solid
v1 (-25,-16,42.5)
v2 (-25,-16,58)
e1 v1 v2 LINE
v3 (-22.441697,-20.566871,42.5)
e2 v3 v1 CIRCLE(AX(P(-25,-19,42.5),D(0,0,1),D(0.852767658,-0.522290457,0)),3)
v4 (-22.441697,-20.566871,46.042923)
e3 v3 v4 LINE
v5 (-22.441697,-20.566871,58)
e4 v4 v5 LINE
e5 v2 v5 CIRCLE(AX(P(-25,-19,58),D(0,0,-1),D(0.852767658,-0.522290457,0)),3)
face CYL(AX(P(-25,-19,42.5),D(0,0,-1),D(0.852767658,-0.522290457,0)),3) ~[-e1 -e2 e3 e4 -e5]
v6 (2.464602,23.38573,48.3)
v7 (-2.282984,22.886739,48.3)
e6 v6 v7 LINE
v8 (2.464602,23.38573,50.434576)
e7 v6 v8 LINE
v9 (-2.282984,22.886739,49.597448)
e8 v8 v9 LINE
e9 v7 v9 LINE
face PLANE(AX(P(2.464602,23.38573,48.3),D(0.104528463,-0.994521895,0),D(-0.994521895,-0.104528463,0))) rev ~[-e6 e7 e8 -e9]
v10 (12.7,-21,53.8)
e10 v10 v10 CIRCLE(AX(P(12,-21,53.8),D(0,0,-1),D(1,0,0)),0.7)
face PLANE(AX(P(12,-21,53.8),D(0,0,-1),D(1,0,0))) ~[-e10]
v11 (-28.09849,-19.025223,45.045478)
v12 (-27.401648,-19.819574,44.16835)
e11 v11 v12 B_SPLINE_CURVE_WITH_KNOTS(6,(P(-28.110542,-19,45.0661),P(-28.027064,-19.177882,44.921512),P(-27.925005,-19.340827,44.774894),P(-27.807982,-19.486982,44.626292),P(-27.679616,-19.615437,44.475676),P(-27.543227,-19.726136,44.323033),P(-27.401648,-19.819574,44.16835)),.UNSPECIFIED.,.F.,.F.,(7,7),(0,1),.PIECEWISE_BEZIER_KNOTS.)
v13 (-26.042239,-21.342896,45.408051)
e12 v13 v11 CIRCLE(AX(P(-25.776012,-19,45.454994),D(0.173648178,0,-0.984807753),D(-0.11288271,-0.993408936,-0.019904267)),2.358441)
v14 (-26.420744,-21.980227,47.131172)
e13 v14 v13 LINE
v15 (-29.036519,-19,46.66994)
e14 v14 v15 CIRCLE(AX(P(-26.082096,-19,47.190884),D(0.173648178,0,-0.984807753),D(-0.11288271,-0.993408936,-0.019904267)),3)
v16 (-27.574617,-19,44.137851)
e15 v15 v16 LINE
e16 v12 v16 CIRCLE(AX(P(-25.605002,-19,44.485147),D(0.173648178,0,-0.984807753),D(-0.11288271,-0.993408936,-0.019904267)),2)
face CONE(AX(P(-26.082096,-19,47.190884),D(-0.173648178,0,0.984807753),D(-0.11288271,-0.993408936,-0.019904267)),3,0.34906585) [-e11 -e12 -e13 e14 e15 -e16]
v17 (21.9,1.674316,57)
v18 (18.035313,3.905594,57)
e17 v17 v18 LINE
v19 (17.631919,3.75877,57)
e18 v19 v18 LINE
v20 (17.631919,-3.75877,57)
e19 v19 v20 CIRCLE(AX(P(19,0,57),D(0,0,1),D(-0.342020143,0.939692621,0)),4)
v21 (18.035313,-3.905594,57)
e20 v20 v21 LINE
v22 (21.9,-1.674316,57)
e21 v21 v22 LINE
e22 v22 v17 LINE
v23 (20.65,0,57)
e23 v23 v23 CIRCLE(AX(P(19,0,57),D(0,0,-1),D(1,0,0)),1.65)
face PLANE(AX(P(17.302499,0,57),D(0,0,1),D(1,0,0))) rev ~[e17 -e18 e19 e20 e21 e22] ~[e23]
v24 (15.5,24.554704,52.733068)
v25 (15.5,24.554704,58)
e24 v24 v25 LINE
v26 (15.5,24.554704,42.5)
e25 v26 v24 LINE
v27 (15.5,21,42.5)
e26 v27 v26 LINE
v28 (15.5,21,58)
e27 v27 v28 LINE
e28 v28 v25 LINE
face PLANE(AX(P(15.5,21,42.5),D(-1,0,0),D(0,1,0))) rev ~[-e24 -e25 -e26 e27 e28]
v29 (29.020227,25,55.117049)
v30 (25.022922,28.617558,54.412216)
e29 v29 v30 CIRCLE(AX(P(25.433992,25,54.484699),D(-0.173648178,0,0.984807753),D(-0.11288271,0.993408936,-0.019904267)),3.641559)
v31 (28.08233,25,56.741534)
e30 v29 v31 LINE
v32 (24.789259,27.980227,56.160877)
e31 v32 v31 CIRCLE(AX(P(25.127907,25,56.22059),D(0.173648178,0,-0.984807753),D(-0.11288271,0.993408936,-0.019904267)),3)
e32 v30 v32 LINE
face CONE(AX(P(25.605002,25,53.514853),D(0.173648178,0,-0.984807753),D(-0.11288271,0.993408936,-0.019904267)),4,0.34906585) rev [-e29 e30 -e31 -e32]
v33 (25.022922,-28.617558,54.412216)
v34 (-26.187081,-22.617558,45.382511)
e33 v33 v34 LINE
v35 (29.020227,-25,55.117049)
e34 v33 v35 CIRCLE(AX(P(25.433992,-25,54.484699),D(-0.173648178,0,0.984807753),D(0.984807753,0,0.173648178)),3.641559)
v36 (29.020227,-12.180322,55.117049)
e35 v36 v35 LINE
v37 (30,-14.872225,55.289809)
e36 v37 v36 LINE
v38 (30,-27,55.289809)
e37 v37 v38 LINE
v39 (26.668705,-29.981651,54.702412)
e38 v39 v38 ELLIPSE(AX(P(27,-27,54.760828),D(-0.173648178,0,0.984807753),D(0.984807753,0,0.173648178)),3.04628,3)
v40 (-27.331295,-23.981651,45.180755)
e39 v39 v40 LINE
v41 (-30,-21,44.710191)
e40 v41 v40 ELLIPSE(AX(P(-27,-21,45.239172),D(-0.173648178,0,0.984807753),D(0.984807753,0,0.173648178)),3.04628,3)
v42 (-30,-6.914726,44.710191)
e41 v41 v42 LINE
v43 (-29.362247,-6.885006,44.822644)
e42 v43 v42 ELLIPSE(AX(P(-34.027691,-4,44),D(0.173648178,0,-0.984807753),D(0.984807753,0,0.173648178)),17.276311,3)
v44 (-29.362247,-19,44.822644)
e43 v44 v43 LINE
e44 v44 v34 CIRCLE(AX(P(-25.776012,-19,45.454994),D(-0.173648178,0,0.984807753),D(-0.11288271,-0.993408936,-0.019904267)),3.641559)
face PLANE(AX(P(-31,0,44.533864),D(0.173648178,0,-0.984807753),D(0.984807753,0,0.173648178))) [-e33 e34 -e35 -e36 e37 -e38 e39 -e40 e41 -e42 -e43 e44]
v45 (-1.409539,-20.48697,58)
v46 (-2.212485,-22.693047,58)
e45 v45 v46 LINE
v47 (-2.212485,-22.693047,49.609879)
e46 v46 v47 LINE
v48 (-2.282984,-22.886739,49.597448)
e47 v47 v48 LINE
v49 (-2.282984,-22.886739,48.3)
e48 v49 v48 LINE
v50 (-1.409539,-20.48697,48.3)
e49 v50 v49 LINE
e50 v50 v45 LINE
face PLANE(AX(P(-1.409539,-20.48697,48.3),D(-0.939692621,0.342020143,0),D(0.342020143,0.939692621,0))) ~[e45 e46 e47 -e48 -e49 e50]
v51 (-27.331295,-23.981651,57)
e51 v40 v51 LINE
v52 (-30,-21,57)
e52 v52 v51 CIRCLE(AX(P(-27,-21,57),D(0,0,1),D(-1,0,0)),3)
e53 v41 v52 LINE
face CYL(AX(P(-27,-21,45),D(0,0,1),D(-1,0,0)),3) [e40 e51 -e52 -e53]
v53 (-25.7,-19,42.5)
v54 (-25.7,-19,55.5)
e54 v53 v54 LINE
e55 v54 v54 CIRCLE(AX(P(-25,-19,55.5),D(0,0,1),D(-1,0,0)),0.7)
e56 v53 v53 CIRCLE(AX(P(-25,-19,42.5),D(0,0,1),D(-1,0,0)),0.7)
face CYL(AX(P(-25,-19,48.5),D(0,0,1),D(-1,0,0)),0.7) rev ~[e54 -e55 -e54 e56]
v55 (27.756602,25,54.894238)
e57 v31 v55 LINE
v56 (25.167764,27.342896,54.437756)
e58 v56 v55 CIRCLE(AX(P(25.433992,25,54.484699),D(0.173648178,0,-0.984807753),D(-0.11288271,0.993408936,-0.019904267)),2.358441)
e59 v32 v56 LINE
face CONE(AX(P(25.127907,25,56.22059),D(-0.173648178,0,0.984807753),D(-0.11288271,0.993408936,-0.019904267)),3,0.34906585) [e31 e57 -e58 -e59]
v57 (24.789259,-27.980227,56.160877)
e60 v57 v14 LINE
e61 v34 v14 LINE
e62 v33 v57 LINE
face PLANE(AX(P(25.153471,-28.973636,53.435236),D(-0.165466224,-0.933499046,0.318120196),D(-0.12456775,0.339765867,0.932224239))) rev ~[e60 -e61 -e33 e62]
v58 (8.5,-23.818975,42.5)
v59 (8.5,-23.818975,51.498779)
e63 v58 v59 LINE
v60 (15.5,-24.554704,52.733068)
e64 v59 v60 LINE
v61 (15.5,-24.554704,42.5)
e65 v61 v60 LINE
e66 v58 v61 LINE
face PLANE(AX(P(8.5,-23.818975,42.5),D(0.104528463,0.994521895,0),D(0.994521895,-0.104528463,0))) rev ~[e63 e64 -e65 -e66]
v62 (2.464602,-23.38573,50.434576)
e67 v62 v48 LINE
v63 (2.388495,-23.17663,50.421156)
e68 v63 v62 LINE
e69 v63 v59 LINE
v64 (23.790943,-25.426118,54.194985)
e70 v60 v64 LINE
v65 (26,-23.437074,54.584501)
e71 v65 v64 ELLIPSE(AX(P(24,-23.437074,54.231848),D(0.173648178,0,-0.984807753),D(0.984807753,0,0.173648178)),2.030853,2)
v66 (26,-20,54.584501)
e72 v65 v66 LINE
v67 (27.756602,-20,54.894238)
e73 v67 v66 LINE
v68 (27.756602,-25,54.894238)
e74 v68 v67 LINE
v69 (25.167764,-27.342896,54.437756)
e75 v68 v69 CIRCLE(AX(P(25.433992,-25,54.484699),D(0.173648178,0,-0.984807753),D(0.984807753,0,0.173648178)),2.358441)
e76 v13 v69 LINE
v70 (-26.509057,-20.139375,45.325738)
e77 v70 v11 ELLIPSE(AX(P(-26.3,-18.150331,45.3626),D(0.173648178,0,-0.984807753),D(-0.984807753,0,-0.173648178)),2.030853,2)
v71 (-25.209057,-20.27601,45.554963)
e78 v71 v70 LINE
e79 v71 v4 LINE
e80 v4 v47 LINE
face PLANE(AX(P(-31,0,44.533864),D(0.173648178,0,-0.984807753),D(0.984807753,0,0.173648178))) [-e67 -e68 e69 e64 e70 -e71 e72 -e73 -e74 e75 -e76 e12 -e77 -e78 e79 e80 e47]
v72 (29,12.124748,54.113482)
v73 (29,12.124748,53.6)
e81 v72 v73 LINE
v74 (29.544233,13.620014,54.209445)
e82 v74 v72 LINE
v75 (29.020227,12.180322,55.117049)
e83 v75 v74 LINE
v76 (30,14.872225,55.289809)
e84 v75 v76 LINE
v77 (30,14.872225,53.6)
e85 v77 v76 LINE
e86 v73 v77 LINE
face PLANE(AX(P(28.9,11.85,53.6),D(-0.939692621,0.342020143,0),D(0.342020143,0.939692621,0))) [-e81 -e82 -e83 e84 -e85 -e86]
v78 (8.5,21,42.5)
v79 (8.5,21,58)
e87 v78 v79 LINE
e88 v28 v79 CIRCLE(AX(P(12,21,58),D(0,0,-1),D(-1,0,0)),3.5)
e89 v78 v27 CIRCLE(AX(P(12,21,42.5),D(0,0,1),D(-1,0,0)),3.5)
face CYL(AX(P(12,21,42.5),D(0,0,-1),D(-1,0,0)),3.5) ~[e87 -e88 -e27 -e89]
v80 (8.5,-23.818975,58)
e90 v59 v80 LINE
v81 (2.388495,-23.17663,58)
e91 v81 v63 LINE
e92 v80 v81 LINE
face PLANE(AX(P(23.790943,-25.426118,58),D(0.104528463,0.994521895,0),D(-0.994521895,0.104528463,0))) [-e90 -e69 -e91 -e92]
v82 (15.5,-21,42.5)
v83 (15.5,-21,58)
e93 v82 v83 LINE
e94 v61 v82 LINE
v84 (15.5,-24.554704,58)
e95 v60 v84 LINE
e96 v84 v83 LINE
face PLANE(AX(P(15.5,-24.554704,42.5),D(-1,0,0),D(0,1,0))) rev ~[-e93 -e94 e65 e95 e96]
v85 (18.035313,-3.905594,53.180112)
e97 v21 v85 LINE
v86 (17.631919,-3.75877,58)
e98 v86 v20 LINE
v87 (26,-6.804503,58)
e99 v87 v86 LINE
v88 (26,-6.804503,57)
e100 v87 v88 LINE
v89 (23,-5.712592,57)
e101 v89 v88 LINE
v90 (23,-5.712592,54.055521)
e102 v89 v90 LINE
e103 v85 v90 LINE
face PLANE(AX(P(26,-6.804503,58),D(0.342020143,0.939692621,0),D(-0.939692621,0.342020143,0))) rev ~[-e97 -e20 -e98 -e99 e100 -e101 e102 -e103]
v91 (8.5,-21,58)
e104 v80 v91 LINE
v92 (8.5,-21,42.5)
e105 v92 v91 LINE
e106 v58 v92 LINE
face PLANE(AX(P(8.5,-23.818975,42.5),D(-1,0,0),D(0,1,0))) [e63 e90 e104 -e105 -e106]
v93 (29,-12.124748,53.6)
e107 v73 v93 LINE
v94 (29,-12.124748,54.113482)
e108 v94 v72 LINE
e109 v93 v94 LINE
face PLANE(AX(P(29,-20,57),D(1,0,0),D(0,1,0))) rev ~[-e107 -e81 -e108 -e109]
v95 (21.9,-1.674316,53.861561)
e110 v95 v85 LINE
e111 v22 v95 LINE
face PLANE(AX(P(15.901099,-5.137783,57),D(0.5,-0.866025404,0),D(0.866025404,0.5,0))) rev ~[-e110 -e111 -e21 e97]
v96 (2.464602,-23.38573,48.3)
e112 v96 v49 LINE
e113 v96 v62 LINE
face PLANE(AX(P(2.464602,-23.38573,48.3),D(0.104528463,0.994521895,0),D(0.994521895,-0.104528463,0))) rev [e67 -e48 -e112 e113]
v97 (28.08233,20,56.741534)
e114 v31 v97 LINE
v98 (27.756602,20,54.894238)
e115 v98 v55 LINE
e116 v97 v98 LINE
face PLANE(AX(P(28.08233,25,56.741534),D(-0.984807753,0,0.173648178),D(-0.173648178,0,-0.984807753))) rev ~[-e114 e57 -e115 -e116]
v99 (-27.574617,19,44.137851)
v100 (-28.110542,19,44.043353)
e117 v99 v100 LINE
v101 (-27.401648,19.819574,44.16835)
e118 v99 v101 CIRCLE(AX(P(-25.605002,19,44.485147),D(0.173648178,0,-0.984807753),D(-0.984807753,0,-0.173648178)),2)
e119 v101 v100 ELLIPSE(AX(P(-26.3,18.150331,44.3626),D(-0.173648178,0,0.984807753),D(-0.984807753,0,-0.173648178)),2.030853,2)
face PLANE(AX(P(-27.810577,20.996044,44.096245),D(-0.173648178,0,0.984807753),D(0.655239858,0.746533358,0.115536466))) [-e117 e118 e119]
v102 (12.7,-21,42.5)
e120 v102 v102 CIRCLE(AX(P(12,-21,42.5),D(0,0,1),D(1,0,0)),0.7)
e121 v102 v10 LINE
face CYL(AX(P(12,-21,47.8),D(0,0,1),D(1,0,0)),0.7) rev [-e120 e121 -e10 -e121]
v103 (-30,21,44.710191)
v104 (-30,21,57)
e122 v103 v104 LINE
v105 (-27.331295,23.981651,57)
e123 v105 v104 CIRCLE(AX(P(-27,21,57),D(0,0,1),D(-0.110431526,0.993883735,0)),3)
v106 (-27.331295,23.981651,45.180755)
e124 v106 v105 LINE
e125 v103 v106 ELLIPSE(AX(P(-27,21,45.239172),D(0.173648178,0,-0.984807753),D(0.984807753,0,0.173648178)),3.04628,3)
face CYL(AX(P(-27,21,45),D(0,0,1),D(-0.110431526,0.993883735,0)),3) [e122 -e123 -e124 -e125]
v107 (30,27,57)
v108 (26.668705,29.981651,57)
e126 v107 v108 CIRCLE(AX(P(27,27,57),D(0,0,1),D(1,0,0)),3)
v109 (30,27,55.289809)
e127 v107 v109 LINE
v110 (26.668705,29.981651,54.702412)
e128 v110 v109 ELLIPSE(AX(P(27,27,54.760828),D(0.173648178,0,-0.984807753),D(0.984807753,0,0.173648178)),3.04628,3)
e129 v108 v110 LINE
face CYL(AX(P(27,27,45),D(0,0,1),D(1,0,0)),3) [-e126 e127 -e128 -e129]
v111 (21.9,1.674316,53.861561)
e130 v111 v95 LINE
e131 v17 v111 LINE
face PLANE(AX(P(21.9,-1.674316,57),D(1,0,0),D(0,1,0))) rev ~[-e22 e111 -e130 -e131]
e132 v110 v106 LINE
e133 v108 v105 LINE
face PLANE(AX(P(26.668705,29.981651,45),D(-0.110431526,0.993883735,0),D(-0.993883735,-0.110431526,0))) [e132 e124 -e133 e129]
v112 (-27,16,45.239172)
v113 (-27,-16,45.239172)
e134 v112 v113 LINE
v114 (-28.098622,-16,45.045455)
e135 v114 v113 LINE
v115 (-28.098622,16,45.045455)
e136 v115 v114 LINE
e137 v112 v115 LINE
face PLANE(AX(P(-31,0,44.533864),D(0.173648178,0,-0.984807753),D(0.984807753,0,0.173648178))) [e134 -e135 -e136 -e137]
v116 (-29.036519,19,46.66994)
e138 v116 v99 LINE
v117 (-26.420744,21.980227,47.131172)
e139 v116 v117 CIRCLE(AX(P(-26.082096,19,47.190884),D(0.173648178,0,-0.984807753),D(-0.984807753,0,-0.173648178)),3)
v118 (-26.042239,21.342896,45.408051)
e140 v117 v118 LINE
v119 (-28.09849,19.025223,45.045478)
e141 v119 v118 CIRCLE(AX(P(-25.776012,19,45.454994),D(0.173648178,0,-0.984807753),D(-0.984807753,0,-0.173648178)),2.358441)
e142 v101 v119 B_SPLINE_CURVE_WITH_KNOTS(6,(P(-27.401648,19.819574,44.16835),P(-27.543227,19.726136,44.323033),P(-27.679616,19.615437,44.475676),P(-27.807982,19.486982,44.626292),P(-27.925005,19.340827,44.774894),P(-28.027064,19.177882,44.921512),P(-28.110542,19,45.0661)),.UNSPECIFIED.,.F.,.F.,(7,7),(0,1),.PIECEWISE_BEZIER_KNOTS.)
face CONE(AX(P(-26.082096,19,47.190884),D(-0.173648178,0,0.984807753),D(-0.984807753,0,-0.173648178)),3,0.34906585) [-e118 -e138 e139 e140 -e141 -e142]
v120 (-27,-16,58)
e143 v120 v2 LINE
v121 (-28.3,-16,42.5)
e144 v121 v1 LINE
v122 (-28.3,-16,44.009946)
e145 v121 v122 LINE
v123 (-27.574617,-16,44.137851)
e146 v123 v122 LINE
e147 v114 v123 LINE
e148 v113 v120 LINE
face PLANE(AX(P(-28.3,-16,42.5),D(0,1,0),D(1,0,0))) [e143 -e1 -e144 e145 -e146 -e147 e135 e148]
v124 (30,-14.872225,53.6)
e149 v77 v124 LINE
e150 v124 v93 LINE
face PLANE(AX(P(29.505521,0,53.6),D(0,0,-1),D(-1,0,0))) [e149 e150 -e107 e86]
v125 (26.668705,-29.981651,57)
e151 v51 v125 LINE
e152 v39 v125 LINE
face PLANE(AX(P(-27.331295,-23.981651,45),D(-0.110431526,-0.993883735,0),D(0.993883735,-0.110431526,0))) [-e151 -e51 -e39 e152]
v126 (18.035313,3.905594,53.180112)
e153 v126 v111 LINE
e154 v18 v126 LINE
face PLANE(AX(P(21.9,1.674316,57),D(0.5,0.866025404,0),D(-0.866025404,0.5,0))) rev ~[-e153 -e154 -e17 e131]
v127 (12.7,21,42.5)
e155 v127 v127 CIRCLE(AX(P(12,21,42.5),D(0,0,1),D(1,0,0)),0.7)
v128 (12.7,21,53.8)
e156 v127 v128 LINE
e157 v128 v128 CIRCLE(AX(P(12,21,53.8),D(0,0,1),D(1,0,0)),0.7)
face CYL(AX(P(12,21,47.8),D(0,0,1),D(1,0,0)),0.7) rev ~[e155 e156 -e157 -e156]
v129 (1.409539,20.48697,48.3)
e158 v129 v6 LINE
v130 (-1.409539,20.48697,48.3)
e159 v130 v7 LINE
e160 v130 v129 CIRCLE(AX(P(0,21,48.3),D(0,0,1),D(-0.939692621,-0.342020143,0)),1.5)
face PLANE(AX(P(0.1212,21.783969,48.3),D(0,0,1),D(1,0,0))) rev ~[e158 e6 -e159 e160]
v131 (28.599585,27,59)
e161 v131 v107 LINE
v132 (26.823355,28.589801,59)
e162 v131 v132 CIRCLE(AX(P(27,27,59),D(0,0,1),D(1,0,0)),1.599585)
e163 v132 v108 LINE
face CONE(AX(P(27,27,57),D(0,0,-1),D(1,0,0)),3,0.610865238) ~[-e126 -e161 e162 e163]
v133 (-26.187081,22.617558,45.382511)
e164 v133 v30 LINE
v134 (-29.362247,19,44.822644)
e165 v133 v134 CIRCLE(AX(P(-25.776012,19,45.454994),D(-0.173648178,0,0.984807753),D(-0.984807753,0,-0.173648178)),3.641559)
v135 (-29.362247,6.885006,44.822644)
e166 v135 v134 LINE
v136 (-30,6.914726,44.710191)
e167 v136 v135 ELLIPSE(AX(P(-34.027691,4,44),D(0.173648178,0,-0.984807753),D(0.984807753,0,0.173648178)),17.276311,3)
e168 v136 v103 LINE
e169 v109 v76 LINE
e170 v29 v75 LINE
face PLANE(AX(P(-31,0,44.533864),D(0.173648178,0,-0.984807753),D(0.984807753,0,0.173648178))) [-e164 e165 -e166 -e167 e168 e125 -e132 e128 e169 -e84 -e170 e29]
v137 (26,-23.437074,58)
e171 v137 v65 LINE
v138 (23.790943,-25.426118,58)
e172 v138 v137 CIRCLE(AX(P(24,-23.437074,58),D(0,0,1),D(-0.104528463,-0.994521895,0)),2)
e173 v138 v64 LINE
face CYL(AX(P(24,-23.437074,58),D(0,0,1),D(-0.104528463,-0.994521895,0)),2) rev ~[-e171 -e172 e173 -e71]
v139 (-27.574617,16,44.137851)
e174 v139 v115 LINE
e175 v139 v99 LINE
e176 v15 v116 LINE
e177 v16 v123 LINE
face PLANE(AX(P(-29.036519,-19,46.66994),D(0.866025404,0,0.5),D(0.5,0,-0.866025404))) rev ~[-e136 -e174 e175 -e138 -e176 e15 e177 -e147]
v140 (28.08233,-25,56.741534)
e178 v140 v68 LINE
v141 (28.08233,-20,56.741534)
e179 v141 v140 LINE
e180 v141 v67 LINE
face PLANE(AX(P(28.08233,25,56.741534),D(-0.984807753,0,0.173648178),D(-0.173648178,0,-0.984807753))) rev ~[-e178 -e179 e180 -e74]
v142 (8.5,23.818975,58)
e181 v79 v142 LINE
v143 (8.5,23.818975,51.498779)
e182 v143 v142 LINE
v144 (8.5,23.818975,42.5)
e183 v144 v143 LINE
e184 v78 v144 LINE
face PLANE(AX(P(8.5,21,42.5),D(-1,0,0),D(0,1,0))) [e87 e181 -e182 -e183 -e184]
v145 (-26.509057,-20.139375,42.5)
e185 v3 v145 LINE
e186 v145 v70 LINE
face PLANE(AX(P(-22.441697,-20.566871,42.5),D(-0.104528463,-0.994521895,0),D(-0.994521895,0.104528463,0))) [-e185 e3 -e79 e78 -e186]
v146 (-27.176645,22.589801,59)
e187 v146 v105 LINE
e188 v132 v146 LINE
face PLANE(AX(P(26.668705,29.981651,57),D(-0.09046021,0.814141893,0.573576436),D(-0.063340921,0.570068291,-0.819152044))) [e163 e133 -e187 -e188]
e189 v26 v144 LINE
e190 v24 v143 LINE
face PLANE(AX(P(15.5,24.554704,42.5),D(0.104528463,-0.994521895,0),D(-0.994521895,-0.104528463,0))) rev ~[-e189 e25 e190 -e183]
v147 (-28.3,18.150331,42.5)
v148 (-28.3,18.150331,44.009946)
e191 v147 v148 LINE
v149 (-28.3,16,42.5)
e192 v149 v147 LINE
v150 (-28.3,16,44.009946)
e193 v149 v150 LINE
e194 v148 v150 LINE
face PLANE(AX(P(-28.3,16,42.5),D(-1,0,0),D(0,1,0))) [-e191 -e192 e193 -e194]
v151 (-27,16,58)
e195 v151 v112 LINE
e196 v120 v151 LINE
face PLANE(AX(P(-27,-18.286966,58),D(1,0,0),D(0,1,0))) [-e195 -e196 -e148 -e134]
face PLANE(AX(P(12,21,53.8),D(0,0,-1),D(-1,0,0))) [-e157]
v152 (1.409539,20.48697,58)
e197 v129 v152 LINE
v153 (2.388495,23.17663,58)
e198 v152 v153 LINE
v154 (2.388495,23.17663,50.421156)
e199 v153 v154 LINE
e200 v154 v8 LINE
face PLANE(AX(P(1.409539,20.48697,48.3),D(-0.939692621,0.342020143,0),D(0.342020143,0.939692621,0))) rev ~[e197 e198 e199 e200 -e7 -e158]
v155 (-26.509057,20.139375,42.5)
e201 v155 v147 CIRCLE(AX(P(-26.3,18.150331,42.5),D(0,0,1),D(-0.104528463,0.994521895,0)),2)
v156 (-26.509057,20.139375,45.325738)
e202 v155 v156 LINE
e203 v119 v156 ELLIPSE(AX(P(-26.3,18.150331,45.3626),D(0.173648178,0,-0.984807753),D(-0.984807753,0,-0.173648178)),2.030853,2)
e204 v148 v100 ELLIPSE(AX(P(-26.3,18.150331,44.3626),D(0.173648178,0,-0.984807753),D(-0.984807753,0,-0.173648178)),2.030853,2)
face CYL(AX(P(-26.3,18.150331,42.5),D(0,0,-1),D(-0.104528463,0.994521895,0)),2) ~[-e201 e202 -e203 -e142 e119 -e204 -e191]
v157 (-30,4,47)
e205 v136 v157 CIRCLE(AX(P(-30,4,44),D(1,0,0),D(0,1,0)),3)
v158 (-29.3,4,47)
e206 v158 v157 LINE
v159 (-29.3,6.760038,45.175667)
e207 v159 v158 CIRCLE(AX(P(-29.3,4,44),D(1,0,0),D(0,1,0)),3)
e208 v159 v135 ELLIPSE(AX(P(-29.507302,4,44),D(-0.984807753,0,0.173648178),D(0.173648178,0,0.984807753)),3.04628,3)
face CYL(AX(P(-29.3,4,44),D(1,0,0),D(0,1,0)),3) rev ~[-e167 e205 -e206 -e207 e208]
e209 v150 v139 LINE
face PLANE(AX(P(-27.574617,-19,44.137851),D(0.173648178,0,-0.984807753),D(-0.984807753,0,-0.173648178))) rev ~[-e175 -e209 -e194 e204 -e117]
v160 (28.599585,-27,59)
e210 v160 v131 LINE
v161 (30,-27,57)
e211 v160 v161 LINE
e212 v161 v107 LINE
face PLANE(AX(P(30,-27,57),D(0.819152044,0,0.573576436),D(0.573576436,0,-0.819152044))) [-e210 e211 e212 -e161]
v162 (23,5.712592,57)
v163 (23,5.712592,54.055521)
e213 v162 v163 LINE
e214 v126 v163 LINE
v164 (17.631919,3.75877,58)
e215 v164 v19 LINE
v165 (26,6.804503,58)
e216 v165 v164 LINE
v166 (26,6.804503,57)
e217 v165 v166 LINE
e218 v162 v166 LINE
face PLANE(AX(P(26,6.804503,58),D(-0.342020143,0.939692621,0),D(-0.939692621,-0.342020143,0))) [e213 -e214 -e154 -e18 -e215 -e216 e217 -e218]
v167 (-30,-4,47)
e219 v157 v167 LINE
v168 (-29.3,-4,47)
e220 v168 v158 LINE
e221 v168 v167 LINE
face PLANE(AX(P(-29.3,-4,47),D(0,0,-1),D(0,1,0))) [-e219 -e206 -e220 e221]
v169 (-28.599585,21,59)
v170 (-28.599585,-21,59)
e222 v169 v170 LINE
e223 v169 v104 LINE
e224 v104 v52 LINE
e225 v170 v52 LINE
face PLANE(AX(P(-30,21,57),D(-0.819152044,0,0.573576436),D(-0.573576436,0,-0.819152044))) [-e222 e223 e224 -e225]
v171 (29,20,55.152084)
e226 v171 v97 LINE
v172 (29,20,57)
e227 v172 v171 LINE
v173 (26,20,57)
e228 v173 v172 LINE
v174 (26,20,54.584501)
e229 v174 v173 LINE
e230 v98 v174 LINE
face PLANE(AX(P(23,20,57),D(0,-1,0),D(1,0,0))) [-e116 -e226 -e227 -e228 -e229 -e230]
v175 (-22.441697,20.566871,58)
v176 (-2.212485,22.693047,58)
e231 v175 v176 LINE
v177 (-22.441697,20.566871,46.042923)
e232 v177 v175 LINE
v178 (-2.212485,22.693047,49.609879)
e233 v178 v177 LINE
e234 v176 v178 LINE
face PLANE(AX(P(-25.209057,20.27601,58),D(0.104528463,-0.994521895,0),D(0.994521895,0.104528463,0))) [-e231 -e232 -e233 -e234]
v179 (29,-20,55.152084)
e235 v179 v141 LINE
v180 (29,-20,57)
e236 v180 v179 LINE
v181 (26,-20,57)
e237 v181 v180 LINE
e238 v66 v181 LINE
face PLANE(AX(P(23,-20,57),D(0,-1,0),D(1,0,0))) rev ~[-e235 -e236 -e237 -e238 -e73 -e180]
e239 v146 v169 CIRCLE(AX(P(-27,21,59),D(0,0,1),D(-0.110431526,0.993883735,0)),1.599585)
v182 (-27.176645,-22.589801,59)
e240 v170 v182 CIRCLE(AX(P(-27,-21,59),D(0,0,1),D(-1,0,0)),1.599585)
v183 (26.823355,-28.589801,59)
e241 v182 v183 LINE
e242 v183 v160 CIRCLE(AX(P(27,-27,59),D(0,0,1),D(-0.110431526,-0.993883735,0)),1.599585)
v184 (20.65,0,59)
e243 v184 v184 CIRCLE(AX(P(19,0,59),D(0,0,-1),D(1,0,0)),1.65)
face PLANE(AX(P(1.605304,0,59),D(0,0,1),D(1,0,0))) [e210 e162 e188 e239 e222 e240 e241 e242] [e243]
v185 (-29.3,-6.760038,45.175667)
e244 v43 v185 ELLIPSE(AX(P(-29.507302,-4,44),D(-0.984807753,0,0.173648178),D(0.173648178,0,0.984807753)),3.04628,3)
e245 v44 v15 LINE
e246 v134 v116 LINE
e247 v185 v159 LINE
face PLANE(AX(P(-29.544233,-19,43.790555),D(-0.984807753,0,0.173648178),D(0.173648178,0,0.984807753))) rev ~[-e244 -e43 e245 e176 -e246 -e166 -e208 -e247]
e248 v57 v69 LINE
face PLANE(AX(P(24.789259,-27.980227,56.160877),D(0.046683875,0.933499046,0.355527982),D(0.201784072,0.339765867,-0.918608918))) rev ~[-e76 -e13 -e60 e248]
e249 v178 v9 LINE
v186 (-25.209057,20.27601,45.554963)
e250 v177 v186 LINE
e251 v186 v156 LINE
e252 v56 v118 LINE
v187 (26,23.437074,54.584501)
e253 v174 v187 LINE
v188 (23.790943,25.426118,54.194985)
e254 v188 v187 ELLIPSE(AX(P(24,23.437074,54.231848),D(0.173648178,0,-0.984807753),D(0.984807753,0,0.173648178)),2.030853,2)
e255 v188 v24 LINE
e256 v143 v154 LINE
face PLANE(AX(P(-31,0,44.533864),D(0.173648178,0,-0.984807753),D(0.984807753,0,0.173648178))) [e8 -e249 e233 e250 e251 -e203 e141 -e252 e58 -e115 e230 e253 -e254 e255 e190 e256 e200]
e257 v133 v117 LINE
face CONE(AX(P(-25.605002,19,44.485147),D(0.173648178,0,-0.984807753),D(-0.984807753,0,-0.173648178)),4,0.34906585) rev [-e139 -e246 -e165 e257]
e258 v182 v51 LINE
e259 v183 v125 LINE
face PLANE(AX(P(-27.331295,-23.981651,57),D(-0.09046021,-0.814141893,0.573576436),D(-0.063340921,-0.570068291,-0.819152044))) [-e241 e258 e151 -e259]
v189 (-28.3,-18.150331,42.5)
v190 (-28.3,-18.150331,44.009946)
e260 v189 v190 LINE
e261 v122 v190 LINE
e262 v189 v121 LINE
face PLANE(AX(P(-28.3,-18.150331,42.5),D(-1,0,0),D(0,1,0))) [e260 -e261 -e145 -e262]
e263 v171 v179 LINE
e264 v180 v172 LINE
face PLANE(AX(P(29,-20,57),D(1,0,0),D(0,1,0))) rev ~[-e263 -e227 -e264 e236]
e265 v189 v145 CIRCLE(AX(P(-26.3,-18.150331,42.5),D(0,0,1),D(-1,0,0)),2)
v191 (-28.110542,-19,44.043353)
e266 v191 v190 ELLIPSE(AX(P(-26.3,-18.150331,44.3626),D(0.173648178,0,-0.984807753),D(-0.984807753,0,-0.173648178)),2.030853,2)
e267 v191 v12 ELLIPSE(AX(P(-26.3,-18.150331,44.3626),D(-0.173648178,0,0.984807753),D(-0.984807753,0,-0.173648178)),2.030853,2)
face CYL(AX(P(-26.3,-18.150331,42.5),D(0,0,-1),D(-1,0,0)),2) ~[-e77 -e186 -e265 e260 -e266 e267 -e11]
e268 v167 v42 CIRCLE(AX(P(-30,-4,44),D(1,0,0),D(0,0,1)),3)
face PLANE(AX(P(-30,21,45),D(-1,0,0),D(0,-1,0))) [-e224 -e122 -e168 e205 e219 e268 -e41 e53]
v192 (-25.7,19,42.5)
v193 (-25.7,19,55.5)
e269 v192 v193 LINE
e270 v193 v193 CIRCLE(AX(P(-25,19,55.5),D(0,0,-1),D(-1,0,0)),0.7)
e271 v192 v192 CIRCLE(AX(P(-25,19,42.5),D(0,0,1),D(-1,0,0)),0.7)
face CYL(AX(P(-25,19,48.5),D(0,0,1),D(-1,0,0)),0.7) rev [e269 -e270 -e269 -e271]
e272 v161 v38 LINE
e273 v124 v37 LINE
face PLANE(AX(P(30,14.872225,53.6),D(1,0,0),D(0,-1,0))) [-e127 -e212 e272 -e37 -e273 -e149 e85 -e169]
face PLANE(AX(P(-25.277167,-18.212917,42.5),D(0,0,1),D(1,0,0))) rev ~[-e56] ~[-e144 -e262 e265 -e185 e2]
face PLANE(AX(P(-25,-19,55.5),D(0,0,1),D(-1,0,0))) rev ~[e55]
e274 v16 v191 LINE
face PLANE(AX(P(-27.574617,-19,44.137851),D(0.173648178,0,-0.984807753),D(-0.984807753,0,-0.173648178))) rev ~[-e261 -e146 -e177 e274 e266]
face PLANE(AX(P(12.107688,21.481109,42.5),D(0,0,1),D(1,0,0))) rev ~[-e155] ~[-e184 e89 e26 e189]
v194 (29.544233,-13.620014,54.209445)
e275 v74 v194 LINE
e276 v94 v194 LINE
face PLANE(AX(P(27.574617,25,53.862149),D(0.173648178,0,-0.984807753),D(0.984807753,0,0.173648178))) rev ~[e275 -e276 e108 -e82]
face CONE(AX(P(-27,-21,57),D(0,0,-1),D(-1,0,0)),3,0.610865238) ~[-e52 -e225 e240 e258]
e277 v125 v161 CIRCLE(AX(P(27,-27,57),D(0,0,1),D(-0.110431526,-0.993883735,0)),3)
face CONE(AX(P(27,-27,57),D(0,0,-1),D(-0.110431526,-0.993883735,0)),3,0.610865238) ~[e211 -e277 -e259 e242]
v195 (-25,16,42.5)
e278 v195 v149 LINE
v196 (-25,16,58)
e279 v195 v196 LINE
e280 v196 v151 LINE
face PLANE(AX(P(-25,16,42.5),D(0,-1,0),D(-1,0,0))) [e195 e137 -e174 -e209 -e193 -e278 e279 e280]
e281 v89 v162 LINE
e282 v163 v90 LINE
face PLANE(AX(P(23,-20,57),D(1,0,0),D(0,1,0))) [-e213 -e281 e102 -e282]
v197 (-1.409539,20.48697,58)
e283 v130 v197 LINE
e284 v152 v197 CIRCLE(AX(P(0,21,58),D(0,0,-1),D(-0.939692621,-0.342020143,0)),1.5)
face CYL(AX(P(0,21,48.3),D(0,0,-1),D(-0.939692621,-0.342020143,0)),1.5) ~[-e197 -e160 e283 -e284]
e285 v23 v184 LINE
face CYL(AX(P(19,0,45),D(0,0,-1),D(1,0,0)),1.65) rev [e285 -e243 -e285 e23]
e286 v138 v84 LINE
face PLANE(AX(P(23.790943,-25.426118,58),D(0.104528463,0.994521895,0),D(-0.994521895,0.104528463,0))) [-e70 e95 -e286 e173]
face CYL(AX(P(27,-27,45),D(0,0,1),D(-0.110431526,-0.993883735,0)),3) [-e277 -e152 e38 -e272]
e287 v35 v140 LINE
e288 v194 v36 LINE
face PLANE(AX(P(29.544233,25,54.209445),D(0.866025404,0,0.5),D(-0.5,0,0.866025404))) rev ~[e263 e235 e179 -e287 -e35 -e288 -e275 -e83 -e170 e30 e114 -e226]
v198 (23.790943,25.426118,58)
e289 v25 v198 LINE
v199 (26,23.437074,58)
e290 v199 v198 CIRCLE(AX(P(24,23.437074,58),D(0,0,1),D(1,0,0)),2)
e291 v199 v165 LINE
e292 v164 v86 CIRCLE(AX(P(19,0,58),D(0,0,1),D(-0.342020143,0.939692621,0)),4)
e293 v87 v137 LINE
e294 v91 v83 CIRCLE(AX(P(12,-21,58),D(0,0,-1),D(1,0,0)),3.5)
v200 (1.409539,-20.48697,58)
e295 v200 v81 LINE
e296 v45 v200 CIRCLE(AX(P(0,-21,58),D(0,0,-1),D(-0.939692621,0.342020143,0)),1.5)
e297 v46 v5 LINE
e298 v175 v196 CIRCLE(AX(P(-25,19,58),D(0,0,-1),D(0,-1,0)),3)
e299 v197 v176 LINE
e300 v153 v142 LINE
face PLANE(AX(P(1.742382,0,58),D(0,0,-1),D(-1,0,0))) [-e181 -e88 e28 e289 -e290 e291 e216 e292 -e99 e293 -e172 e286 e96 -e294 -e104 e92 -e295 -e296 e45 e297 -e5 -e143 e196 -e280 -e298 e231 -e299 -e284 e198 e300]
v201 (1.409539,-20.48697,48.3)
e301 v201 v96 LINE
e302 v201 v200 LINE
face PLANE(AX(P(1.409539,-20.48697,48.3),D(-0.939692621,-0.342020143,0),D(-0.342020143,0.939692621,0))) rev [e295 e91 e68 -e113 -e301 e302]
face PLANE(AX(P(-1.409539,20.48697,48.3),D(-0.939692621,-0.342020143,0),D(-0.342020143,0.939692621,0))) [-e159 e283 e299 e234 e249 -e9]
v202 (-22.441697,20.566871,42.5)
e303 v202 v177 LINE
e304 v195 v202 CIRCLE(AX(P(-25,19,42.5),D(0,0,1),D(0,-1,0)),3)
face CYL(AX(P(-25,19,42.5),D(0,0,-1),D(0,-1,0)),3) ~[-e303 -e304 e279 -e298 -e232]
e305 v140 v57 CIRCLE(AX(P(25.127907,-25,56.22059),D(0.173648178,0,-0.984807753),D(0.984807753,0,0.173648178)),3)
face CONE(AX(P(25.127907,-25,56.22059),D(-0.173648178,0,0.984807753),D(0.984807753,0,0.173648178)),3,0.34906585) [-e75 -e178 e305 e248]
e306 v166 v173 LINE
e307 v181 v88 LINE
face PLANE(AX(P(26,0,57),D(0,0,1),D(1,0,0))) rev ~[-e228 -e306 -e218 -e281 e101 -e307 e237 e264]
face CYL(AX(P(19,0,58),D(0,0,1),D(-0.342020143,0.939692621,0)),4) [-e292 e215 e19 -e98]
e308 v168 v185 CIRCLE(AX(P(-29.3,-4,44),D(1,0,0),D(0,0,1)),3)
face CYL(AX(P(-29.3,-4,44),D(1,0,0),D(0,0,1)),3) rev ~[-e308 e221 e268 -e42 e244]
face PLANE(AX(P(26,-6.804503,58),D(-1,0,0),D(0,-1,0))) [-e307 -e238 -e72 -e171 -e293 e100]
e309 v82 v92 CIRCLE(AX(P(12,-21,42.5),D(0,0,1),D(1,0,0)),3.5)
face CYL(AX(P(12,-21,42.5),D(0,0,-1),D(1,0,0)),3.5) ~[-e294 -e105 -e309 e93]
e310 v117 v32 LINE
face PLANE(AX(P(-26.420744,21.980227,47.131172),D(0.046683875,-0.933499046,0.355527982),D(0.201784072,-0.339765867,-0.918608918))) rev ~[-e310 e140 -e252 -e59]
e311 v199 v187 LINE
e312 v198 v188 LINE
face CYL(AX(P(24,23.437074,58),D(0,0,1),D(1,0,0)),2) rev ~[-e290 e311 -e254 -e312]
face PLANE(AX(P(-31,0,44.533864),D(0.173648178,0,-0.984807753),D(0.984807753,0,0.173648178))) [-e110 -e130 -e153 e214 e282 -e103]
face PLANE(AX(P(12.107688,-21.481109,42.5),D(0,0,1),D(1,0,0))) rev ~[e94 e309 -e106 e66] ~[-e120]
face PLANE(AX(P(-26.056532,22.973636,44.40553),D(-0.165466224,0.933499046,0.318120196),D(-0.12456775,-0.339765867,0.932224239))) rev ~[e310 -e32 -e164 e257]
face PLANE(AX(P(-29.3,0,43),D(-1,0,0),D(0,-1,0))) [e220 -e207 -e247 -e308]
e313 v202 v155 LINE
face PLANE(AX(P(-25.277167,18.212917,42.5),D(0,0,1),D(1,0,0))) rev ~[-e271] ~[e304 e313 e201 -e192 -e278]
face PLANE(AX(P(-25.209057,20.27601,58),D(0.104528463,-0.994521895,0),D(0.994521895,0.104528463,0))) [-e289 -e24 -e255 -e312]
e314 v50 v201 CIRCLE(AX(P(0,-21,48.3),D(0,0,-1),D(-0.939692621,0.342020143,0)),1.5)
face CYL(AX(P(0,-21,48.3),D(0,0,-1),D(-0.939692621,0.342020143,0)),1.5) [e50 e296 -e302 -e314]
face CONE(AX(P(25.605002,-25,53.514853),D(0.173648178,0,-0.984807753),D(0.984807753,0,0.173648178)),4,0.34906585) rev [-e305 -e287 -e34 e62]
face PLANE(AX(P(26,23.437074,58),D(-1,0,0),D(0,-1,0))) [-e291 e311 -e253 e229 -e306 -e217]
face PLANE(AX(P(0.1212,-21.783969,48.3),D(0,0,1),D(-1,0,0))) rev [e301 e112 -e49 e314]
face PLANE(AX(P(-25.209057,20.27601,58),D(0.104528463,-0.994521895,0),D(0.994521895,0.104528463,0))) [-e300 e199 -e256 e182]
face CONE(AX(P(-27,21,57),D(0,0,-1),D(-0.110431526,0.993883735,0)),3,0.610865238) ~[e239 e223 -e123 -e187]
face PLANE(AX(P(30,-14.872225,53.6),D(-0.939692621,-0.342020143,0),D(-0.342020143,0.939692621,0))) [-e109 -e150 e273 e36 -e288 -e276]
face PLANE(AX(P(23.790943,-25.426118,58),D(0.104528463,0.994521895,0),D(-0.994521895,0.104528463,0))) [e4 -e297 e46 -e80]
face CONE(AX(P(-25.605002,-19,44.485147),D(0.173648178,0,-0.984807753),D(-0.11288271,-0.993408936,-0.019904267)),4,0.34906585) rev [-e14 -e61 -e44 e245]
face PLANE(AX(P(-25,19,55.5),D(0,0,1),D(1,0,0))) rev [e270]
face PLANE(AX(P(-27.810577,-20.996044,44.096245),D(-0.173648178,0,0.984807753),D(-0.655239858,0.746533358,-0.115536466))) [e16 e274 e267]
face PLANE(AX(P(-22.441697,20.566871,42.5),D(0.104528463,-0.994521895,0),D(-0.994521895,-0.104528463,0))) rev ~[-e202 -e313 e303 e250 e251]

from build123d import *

# Parameters (mm, degrees)
PAD008_DEPTH         = 14
PAD008_DEPTH_BACK    = 5
POCKET006_DEPTH      = 30.001
POCKET006_DEPTH_BACK = 30.001
POCKET032_DEPTH      = 13.2908094213
PAD015_DEPTH         = 16
SKETCH026_W          = 0.7
SKETCH026_H          = 12
SKETCH027_W          = 0.7
SKETCH027_H          = 14
POCKET033_DEPTH      = 14.501
SKETCH037_R          = 1.65
POCKET034_DEPTH      = 14.001
PAD016_DEPTH         = 3
SKETCH036_W          = 6
SKETCH036_H          = 40
POCKET035_DEPTH      = 14.501
POCKET036_DEPTH      = 0.701
PAD017_DEPTH         = 10


with BuildPart() as part:
    # Sketch020 → Pad008 (new body, two sides)
    with BuildSketch(Plane.XY) as pad008_sk:
        with BuildLine():
            Line((26.6687054218, 29.981651204), (-27.3312945782, 23.981651204))
            ThreePointArc((-27.3312945782, 23.981651204), (-29.2353840537, 23.0007643871), (-30, 21))
            Line((-30, 21), (-30, -21))
            ThreePointArc((-30, -21), (-29.2353840537, -23.0007643871), (-27.3312945782, -23.981651204))
            Line((-27.3312945782, -23.981651204), (26.6687054218, -29.981651204))
            ThreePointArc((26.6687054218, -29.981651204), (29.0007643871, -29.2353840537), (30, -27))
            Line((30, -27), (30, 27))
            ThreePointArc((30, 27), (29.0007643871, 29.2353840537), (26.6687054218, 29.981651204))
        make_face()
    extrude(amount=PAD008_DEPTH)
    extrude(pad008_sk.sketch, amount=-PAD008_DEPTH_BACK)

    # Sketch021 → Pocket006 (cut, two sides)
    with BuildSketch(Plane.XZ) as pocket006_sk:
        Polygon((31, -6), (-31, -6), (-31, -0.466136402), (31, 10.466136402), align=None)
    extrude(amount=-POCKET006_DEPTH, mode=Mode.SUBTRACT)
    extrude(pocket006_sk.sketch, amount=POCKET006_DEPTH_BACK, mode=Mode.SUBTRACT)

    # Sketch040 → Pocket032 (cut, through all)
    with BuildSketch(Plane.XY.offset(13)):
        with BuildLine():
            Line((-25.2090569265, 20.276010124), (23.7909430735, 25.426117652))
            ThreePointArc((26, 23.4370738613), (25.3382612127, 24.9233635123), (23.7909430735, 25.426117652))
            Line((26, 23.4370738613), (26, 6.8045027298))
            Line((26, 6.8045027298), (17.6319194267, 3.7587704831))
            ThreePointArc((17.6319194267, 3.7587704831), (15, 0), (17.6319194267, -3.7587704831))
            Line((26, -6.8045027298), (17.6319194267, -3.7587704831))
            Line((26, -6.8045027298), (26, -23.4370738613))
            ThreePointArc((23.7909430735, -25.426117652), (25.3382612127, -24.9233635123), (26, -23.4370738613))
            Line((23.7909430735, -25.426117652), (-25.2090569265, -20.276010124))
            ThreePointArc((-27, -18.2869663333), (-26.486289651, -19.625227546), (-25.2090569265, -20.276010124))
            Line((-27, -18.2869663333), (-27, 18.2869663333))
            ThreePointArc((-25.2090569265, 20.276010124), (-26.486289651, 19.625227546), (-27, 18.2869663333))
        make_face()
    extrude(amount=-POCKET032_DEPTH, mode=Mode.SUBTRACT)

    # Sketch063 → Pad015 (join)
    with BuildSketch(Plane.XY.offset(-2.5)):
        with BuildLine():
            Line((15.5, 21), (15.5, 24.5547044207))
            Line((15.5, 24.5547044207), (8.5, 23.8189747738))
            Line((8.5, 21), (8.5, 23.8189747738))
            ThreePointArc((8.5, 21), (12, 17.5), (15.5, 21))
        make_face()
        with BuildLine():
            Line((8.5, -23.8189747738), (15.5, -24.5547044207))
            Line((15.5, -24.5547044207), (15.5, -21))
            ThreePointArc((15.5, -21), (12, -17.5), (8.5, -21))
            Line((8.5, -23.8189747738), (8.5, -21))
        make_face()
        with BuildLine():
            ThreePointArc((-25, 16), (-22.3826908751, 17.5338168788), (-22.4416970255, 20.5668713701))
            Line((-22.4416970255, 20.5668713701), (-26.5090569265, 20.1393746182))
            ThreePointArc((-26.5090569265, 20.1393746182), (-27.786289651, 19.4885920402), (-28.3, 18.1503308274))
            Line((-28.3, 16), (-28.3, 18.1503308274))
            Line((-25, 16), (-28.3, 16))
        make_face()
        with BuildLine():
            ThreePointArc((-22.4416970255, -20.5668713701), (-22.3826908751, -17.5338168788), (-25, -16))
            Line((-28.3, -16), (-25, -16))
            Line((-28.3, -18.1503308274), (-28.3, -16))
            ThreePointArc((-28.3, -18.1503308274), (-27.786289651, -19.4885920402), (-26.5090569265, -20.1393746182))
            Line((-22.4416970255, -20.5668713701), (-26.5090569265, -20.1393746182))
        make_face()
    extrude(amount=PAD015_DEPTH)

    # Sketch026 → Groove (revolve, cut)
    with BuildSketch(Plane.XZ.offset(21)):
        with Locations((12.35, 2.8)):
            Rectangle(SKETCH026_W, SKETCH026_H)
    groove = revolve(axis=Axis((12, -21, 8.8), (0, 0, -1)), mode=Mode.SUBTRACT)

    # Sketch027 → Groove004 (revolve, cut)
    with BuildSketch(Plane.XZ.offset(19)):
        with Locations((-25.35, 3.5)):
            Rectangle(SKETCH027_W, SKETCH027_H)
    groove004 = revolve(axis=Axis((-25, -19, -17.5), (0, 0, 1)), mode=Mode.SUBTRACT)

    # Mirrored013: Groove, Groove004 across XZ
    add(groove.mirror(Plane.XZ), mode=Mode.SUBTRACT)
    add(groove004.mirror(Plane.XZ), mode=Mode.SUBTRACT)

    # Sketch057 → Pocket033 (cut, through all)
    with BuildSketch(Plane.XY.offset(12)):
        with BuildLine():
            Line((21.9, -1.6743157806), (21.9, 1.6743157806))
            Line((21.9, 1.6743157806), (15.9010990338, 5.1377828683))
            ThreePointArc((15.9010990338, 5.1377828683), (13, 0), (15.9010990338, -5.1377828683))
            Line((15.9010990338, -5.1377828683), (21.9, -1.6743157806))
        make_face()
    extrude(amount=-POCKET033_DEPTH, mode=Mode.SUBTRACT)

    # Sketch037 → Pocket034 (cut, through all)
    with BuildSketch(Plane.XY):
        with Locations((19, 0)):
            Circle(SKETCH037_R)
    extrude(amount=POCKET034_DEPTH, mode=Mode.SUBTRACT)

    # Sketch039 → Pad016 (join)
    with BuildSketch(Plane.XY.offset(8.6)):
        Polygon((28.9, -11.85), (28.9, 11.85), (30, 14.8722251614), (30, -14.8722251614), align=None)
    extrude(amount=PAD016_DEPTH)

    # SubtractivePipe: sweep along a path in Sketch020
    with BuildLine(Plane.XY) as subtractivepipe_path:
        Line((26.6687054218, 29.981651204), (-27.3312945782, 23.981651204))
        ThreePointArc((-27.3312945782, 23.981651204), (-29.2353840537, 23.0007643871), (-30, 21))
        Line((-30, 21), (-30, -21))
        ThreePointArc((-30, -21), (-29.2353840537, -23.0007643871), (-27.3312945782, -23.981651204))
        Line((-27.3312945782, -23.981651204), (26.6687054218, -29.981651204))
        ThreePointArc((26.6687054218, -29.981651204), (29.0007643871, -29.2353840537), (30, -27))
        Line((30, -27), (30, 27))
        ThreePointArc((30, 27), (29.0007643871, 29.2353840537), (26.6687054218, 29.981651204))
    # Sketch035 → SubtractivePipe (sweep, cut)
    with BuildSketch(Plane.XZ):
        Polygon((28.5995849236, 14), (30, 14), (30, 12), align=None)
    sweep(path=subtractivepipe_path.line, mode=Mode.SUBTRACT)

    # Sketch036 → Pocket035 (cut, through all)
    with BuildSketch(Plane.XY.offset(12)):
        with Locations((26, 0)):
            Rectangle(SKETCH036_W, SKETCH036_H)
    extrude(amount=-POCKET035_DEPTH, mode=Mode.SUBTRACT)

    # Sketch054 → Pocket036 (cut, through all)
    with BuildSketch(Plane.YZ.offset(-29.3)):
        with BuildLine():
            Line((-4, 2), (4, 2))
            ThreePointArc((7, -1), (6.1213203436, 1.1213203436), (4, 2))
            Line((7, -1), (7, -3))
            ThreePointArc((4, -6), (6.1213203436, -5.1213203436), (7, -3))
            Line((4, -6), (-4, -6))
            ThreePointArc((-7, -3), (-6.1213203436, -5.1213203436), (-4, -6))
            Line((-7, -3), (-7, -1))
            ThreePointArc((-4, 2), (-6.1213203436, 1.1213203436), (-7, -1))
        make_face()
    extrude(amount=-POCKET036_DEPTH, mode=Mode.SUBTRACT)

    # Sketch064 → Pad017 (join)
    with BuildSketch(Plane.XY.offset(3.3)):
        with BuildLine():
            Line((1.4095389312, 20.486969785), (2.4646015442, 23.3857304905))
            Line((2.4646015442, 23.3857304905), (-2.2829835631, 22.8867391884))
            Line((-1.4095389312, 20.486969785), (-2.2829835631, 22.8867391884))
            ThreePointArc((-1.4095389312, 20.486969785), (0, 19.5), (1.4095389312, 20.486969785))
        make_face()
    pad017 = extrude(amount=PAD017_DEPTH)

    # Mirrored014: Pad017 across XZ
    add(pad017.mirror(Plane.XZ))

    # SubtractivePipe002: sweep along a path in Sketch023
    with BuildLine(Plane(origin=(0, 0, 4), x_dir=(0.984807753, 0, 0.1736481777), z_dir=(-0.1736481777, 0, 0.984807753))) as subtractivepipe002_path:
        Line((-26.343872324, 21.9802268076), (25.656127676, 27.9802268076))
        ThreePointArc((25.656127676, 27.9802268076), (27.996043966, 27.2396000728), (29, 25))
        Line((29, 25), (29, -25))
        ThreePointArc((29, -25), (27.996043966, -27.2396000728), (25.656127676, -27.9802268076))
        Line((25.656127676, -27.9802268076), (-26.343872324, -21.9802268076))
        ThreePointArc((-26.343872324, -21.9802268076), (-28.2396000728, -20.996043966), (-29, -19))
        Line((-29, -19), (-29, 19))
        ThreePointArc((-29, 19), (-28.2396000728, 20.996043966), (-26.343872324, 21.9802268076))
    # Sketch025 → SubtractivePipe002 (sweep, cut)
    with BuildSketch(Plane.XZ):
        Polygon((28.0823303903, 11.7415342162), (27.5746170843, 8.8621489747), (29.5442325904, 9.20944533), align=None)
    sweep(path=subtractivepipe002_path.line, mode=Mode.SUBTRACT)


with BuildPart() as part_1:
    # Body010 placement: moved
    add(part.part.moved(Location((0, 0, 45))))


solid = part_1.part
